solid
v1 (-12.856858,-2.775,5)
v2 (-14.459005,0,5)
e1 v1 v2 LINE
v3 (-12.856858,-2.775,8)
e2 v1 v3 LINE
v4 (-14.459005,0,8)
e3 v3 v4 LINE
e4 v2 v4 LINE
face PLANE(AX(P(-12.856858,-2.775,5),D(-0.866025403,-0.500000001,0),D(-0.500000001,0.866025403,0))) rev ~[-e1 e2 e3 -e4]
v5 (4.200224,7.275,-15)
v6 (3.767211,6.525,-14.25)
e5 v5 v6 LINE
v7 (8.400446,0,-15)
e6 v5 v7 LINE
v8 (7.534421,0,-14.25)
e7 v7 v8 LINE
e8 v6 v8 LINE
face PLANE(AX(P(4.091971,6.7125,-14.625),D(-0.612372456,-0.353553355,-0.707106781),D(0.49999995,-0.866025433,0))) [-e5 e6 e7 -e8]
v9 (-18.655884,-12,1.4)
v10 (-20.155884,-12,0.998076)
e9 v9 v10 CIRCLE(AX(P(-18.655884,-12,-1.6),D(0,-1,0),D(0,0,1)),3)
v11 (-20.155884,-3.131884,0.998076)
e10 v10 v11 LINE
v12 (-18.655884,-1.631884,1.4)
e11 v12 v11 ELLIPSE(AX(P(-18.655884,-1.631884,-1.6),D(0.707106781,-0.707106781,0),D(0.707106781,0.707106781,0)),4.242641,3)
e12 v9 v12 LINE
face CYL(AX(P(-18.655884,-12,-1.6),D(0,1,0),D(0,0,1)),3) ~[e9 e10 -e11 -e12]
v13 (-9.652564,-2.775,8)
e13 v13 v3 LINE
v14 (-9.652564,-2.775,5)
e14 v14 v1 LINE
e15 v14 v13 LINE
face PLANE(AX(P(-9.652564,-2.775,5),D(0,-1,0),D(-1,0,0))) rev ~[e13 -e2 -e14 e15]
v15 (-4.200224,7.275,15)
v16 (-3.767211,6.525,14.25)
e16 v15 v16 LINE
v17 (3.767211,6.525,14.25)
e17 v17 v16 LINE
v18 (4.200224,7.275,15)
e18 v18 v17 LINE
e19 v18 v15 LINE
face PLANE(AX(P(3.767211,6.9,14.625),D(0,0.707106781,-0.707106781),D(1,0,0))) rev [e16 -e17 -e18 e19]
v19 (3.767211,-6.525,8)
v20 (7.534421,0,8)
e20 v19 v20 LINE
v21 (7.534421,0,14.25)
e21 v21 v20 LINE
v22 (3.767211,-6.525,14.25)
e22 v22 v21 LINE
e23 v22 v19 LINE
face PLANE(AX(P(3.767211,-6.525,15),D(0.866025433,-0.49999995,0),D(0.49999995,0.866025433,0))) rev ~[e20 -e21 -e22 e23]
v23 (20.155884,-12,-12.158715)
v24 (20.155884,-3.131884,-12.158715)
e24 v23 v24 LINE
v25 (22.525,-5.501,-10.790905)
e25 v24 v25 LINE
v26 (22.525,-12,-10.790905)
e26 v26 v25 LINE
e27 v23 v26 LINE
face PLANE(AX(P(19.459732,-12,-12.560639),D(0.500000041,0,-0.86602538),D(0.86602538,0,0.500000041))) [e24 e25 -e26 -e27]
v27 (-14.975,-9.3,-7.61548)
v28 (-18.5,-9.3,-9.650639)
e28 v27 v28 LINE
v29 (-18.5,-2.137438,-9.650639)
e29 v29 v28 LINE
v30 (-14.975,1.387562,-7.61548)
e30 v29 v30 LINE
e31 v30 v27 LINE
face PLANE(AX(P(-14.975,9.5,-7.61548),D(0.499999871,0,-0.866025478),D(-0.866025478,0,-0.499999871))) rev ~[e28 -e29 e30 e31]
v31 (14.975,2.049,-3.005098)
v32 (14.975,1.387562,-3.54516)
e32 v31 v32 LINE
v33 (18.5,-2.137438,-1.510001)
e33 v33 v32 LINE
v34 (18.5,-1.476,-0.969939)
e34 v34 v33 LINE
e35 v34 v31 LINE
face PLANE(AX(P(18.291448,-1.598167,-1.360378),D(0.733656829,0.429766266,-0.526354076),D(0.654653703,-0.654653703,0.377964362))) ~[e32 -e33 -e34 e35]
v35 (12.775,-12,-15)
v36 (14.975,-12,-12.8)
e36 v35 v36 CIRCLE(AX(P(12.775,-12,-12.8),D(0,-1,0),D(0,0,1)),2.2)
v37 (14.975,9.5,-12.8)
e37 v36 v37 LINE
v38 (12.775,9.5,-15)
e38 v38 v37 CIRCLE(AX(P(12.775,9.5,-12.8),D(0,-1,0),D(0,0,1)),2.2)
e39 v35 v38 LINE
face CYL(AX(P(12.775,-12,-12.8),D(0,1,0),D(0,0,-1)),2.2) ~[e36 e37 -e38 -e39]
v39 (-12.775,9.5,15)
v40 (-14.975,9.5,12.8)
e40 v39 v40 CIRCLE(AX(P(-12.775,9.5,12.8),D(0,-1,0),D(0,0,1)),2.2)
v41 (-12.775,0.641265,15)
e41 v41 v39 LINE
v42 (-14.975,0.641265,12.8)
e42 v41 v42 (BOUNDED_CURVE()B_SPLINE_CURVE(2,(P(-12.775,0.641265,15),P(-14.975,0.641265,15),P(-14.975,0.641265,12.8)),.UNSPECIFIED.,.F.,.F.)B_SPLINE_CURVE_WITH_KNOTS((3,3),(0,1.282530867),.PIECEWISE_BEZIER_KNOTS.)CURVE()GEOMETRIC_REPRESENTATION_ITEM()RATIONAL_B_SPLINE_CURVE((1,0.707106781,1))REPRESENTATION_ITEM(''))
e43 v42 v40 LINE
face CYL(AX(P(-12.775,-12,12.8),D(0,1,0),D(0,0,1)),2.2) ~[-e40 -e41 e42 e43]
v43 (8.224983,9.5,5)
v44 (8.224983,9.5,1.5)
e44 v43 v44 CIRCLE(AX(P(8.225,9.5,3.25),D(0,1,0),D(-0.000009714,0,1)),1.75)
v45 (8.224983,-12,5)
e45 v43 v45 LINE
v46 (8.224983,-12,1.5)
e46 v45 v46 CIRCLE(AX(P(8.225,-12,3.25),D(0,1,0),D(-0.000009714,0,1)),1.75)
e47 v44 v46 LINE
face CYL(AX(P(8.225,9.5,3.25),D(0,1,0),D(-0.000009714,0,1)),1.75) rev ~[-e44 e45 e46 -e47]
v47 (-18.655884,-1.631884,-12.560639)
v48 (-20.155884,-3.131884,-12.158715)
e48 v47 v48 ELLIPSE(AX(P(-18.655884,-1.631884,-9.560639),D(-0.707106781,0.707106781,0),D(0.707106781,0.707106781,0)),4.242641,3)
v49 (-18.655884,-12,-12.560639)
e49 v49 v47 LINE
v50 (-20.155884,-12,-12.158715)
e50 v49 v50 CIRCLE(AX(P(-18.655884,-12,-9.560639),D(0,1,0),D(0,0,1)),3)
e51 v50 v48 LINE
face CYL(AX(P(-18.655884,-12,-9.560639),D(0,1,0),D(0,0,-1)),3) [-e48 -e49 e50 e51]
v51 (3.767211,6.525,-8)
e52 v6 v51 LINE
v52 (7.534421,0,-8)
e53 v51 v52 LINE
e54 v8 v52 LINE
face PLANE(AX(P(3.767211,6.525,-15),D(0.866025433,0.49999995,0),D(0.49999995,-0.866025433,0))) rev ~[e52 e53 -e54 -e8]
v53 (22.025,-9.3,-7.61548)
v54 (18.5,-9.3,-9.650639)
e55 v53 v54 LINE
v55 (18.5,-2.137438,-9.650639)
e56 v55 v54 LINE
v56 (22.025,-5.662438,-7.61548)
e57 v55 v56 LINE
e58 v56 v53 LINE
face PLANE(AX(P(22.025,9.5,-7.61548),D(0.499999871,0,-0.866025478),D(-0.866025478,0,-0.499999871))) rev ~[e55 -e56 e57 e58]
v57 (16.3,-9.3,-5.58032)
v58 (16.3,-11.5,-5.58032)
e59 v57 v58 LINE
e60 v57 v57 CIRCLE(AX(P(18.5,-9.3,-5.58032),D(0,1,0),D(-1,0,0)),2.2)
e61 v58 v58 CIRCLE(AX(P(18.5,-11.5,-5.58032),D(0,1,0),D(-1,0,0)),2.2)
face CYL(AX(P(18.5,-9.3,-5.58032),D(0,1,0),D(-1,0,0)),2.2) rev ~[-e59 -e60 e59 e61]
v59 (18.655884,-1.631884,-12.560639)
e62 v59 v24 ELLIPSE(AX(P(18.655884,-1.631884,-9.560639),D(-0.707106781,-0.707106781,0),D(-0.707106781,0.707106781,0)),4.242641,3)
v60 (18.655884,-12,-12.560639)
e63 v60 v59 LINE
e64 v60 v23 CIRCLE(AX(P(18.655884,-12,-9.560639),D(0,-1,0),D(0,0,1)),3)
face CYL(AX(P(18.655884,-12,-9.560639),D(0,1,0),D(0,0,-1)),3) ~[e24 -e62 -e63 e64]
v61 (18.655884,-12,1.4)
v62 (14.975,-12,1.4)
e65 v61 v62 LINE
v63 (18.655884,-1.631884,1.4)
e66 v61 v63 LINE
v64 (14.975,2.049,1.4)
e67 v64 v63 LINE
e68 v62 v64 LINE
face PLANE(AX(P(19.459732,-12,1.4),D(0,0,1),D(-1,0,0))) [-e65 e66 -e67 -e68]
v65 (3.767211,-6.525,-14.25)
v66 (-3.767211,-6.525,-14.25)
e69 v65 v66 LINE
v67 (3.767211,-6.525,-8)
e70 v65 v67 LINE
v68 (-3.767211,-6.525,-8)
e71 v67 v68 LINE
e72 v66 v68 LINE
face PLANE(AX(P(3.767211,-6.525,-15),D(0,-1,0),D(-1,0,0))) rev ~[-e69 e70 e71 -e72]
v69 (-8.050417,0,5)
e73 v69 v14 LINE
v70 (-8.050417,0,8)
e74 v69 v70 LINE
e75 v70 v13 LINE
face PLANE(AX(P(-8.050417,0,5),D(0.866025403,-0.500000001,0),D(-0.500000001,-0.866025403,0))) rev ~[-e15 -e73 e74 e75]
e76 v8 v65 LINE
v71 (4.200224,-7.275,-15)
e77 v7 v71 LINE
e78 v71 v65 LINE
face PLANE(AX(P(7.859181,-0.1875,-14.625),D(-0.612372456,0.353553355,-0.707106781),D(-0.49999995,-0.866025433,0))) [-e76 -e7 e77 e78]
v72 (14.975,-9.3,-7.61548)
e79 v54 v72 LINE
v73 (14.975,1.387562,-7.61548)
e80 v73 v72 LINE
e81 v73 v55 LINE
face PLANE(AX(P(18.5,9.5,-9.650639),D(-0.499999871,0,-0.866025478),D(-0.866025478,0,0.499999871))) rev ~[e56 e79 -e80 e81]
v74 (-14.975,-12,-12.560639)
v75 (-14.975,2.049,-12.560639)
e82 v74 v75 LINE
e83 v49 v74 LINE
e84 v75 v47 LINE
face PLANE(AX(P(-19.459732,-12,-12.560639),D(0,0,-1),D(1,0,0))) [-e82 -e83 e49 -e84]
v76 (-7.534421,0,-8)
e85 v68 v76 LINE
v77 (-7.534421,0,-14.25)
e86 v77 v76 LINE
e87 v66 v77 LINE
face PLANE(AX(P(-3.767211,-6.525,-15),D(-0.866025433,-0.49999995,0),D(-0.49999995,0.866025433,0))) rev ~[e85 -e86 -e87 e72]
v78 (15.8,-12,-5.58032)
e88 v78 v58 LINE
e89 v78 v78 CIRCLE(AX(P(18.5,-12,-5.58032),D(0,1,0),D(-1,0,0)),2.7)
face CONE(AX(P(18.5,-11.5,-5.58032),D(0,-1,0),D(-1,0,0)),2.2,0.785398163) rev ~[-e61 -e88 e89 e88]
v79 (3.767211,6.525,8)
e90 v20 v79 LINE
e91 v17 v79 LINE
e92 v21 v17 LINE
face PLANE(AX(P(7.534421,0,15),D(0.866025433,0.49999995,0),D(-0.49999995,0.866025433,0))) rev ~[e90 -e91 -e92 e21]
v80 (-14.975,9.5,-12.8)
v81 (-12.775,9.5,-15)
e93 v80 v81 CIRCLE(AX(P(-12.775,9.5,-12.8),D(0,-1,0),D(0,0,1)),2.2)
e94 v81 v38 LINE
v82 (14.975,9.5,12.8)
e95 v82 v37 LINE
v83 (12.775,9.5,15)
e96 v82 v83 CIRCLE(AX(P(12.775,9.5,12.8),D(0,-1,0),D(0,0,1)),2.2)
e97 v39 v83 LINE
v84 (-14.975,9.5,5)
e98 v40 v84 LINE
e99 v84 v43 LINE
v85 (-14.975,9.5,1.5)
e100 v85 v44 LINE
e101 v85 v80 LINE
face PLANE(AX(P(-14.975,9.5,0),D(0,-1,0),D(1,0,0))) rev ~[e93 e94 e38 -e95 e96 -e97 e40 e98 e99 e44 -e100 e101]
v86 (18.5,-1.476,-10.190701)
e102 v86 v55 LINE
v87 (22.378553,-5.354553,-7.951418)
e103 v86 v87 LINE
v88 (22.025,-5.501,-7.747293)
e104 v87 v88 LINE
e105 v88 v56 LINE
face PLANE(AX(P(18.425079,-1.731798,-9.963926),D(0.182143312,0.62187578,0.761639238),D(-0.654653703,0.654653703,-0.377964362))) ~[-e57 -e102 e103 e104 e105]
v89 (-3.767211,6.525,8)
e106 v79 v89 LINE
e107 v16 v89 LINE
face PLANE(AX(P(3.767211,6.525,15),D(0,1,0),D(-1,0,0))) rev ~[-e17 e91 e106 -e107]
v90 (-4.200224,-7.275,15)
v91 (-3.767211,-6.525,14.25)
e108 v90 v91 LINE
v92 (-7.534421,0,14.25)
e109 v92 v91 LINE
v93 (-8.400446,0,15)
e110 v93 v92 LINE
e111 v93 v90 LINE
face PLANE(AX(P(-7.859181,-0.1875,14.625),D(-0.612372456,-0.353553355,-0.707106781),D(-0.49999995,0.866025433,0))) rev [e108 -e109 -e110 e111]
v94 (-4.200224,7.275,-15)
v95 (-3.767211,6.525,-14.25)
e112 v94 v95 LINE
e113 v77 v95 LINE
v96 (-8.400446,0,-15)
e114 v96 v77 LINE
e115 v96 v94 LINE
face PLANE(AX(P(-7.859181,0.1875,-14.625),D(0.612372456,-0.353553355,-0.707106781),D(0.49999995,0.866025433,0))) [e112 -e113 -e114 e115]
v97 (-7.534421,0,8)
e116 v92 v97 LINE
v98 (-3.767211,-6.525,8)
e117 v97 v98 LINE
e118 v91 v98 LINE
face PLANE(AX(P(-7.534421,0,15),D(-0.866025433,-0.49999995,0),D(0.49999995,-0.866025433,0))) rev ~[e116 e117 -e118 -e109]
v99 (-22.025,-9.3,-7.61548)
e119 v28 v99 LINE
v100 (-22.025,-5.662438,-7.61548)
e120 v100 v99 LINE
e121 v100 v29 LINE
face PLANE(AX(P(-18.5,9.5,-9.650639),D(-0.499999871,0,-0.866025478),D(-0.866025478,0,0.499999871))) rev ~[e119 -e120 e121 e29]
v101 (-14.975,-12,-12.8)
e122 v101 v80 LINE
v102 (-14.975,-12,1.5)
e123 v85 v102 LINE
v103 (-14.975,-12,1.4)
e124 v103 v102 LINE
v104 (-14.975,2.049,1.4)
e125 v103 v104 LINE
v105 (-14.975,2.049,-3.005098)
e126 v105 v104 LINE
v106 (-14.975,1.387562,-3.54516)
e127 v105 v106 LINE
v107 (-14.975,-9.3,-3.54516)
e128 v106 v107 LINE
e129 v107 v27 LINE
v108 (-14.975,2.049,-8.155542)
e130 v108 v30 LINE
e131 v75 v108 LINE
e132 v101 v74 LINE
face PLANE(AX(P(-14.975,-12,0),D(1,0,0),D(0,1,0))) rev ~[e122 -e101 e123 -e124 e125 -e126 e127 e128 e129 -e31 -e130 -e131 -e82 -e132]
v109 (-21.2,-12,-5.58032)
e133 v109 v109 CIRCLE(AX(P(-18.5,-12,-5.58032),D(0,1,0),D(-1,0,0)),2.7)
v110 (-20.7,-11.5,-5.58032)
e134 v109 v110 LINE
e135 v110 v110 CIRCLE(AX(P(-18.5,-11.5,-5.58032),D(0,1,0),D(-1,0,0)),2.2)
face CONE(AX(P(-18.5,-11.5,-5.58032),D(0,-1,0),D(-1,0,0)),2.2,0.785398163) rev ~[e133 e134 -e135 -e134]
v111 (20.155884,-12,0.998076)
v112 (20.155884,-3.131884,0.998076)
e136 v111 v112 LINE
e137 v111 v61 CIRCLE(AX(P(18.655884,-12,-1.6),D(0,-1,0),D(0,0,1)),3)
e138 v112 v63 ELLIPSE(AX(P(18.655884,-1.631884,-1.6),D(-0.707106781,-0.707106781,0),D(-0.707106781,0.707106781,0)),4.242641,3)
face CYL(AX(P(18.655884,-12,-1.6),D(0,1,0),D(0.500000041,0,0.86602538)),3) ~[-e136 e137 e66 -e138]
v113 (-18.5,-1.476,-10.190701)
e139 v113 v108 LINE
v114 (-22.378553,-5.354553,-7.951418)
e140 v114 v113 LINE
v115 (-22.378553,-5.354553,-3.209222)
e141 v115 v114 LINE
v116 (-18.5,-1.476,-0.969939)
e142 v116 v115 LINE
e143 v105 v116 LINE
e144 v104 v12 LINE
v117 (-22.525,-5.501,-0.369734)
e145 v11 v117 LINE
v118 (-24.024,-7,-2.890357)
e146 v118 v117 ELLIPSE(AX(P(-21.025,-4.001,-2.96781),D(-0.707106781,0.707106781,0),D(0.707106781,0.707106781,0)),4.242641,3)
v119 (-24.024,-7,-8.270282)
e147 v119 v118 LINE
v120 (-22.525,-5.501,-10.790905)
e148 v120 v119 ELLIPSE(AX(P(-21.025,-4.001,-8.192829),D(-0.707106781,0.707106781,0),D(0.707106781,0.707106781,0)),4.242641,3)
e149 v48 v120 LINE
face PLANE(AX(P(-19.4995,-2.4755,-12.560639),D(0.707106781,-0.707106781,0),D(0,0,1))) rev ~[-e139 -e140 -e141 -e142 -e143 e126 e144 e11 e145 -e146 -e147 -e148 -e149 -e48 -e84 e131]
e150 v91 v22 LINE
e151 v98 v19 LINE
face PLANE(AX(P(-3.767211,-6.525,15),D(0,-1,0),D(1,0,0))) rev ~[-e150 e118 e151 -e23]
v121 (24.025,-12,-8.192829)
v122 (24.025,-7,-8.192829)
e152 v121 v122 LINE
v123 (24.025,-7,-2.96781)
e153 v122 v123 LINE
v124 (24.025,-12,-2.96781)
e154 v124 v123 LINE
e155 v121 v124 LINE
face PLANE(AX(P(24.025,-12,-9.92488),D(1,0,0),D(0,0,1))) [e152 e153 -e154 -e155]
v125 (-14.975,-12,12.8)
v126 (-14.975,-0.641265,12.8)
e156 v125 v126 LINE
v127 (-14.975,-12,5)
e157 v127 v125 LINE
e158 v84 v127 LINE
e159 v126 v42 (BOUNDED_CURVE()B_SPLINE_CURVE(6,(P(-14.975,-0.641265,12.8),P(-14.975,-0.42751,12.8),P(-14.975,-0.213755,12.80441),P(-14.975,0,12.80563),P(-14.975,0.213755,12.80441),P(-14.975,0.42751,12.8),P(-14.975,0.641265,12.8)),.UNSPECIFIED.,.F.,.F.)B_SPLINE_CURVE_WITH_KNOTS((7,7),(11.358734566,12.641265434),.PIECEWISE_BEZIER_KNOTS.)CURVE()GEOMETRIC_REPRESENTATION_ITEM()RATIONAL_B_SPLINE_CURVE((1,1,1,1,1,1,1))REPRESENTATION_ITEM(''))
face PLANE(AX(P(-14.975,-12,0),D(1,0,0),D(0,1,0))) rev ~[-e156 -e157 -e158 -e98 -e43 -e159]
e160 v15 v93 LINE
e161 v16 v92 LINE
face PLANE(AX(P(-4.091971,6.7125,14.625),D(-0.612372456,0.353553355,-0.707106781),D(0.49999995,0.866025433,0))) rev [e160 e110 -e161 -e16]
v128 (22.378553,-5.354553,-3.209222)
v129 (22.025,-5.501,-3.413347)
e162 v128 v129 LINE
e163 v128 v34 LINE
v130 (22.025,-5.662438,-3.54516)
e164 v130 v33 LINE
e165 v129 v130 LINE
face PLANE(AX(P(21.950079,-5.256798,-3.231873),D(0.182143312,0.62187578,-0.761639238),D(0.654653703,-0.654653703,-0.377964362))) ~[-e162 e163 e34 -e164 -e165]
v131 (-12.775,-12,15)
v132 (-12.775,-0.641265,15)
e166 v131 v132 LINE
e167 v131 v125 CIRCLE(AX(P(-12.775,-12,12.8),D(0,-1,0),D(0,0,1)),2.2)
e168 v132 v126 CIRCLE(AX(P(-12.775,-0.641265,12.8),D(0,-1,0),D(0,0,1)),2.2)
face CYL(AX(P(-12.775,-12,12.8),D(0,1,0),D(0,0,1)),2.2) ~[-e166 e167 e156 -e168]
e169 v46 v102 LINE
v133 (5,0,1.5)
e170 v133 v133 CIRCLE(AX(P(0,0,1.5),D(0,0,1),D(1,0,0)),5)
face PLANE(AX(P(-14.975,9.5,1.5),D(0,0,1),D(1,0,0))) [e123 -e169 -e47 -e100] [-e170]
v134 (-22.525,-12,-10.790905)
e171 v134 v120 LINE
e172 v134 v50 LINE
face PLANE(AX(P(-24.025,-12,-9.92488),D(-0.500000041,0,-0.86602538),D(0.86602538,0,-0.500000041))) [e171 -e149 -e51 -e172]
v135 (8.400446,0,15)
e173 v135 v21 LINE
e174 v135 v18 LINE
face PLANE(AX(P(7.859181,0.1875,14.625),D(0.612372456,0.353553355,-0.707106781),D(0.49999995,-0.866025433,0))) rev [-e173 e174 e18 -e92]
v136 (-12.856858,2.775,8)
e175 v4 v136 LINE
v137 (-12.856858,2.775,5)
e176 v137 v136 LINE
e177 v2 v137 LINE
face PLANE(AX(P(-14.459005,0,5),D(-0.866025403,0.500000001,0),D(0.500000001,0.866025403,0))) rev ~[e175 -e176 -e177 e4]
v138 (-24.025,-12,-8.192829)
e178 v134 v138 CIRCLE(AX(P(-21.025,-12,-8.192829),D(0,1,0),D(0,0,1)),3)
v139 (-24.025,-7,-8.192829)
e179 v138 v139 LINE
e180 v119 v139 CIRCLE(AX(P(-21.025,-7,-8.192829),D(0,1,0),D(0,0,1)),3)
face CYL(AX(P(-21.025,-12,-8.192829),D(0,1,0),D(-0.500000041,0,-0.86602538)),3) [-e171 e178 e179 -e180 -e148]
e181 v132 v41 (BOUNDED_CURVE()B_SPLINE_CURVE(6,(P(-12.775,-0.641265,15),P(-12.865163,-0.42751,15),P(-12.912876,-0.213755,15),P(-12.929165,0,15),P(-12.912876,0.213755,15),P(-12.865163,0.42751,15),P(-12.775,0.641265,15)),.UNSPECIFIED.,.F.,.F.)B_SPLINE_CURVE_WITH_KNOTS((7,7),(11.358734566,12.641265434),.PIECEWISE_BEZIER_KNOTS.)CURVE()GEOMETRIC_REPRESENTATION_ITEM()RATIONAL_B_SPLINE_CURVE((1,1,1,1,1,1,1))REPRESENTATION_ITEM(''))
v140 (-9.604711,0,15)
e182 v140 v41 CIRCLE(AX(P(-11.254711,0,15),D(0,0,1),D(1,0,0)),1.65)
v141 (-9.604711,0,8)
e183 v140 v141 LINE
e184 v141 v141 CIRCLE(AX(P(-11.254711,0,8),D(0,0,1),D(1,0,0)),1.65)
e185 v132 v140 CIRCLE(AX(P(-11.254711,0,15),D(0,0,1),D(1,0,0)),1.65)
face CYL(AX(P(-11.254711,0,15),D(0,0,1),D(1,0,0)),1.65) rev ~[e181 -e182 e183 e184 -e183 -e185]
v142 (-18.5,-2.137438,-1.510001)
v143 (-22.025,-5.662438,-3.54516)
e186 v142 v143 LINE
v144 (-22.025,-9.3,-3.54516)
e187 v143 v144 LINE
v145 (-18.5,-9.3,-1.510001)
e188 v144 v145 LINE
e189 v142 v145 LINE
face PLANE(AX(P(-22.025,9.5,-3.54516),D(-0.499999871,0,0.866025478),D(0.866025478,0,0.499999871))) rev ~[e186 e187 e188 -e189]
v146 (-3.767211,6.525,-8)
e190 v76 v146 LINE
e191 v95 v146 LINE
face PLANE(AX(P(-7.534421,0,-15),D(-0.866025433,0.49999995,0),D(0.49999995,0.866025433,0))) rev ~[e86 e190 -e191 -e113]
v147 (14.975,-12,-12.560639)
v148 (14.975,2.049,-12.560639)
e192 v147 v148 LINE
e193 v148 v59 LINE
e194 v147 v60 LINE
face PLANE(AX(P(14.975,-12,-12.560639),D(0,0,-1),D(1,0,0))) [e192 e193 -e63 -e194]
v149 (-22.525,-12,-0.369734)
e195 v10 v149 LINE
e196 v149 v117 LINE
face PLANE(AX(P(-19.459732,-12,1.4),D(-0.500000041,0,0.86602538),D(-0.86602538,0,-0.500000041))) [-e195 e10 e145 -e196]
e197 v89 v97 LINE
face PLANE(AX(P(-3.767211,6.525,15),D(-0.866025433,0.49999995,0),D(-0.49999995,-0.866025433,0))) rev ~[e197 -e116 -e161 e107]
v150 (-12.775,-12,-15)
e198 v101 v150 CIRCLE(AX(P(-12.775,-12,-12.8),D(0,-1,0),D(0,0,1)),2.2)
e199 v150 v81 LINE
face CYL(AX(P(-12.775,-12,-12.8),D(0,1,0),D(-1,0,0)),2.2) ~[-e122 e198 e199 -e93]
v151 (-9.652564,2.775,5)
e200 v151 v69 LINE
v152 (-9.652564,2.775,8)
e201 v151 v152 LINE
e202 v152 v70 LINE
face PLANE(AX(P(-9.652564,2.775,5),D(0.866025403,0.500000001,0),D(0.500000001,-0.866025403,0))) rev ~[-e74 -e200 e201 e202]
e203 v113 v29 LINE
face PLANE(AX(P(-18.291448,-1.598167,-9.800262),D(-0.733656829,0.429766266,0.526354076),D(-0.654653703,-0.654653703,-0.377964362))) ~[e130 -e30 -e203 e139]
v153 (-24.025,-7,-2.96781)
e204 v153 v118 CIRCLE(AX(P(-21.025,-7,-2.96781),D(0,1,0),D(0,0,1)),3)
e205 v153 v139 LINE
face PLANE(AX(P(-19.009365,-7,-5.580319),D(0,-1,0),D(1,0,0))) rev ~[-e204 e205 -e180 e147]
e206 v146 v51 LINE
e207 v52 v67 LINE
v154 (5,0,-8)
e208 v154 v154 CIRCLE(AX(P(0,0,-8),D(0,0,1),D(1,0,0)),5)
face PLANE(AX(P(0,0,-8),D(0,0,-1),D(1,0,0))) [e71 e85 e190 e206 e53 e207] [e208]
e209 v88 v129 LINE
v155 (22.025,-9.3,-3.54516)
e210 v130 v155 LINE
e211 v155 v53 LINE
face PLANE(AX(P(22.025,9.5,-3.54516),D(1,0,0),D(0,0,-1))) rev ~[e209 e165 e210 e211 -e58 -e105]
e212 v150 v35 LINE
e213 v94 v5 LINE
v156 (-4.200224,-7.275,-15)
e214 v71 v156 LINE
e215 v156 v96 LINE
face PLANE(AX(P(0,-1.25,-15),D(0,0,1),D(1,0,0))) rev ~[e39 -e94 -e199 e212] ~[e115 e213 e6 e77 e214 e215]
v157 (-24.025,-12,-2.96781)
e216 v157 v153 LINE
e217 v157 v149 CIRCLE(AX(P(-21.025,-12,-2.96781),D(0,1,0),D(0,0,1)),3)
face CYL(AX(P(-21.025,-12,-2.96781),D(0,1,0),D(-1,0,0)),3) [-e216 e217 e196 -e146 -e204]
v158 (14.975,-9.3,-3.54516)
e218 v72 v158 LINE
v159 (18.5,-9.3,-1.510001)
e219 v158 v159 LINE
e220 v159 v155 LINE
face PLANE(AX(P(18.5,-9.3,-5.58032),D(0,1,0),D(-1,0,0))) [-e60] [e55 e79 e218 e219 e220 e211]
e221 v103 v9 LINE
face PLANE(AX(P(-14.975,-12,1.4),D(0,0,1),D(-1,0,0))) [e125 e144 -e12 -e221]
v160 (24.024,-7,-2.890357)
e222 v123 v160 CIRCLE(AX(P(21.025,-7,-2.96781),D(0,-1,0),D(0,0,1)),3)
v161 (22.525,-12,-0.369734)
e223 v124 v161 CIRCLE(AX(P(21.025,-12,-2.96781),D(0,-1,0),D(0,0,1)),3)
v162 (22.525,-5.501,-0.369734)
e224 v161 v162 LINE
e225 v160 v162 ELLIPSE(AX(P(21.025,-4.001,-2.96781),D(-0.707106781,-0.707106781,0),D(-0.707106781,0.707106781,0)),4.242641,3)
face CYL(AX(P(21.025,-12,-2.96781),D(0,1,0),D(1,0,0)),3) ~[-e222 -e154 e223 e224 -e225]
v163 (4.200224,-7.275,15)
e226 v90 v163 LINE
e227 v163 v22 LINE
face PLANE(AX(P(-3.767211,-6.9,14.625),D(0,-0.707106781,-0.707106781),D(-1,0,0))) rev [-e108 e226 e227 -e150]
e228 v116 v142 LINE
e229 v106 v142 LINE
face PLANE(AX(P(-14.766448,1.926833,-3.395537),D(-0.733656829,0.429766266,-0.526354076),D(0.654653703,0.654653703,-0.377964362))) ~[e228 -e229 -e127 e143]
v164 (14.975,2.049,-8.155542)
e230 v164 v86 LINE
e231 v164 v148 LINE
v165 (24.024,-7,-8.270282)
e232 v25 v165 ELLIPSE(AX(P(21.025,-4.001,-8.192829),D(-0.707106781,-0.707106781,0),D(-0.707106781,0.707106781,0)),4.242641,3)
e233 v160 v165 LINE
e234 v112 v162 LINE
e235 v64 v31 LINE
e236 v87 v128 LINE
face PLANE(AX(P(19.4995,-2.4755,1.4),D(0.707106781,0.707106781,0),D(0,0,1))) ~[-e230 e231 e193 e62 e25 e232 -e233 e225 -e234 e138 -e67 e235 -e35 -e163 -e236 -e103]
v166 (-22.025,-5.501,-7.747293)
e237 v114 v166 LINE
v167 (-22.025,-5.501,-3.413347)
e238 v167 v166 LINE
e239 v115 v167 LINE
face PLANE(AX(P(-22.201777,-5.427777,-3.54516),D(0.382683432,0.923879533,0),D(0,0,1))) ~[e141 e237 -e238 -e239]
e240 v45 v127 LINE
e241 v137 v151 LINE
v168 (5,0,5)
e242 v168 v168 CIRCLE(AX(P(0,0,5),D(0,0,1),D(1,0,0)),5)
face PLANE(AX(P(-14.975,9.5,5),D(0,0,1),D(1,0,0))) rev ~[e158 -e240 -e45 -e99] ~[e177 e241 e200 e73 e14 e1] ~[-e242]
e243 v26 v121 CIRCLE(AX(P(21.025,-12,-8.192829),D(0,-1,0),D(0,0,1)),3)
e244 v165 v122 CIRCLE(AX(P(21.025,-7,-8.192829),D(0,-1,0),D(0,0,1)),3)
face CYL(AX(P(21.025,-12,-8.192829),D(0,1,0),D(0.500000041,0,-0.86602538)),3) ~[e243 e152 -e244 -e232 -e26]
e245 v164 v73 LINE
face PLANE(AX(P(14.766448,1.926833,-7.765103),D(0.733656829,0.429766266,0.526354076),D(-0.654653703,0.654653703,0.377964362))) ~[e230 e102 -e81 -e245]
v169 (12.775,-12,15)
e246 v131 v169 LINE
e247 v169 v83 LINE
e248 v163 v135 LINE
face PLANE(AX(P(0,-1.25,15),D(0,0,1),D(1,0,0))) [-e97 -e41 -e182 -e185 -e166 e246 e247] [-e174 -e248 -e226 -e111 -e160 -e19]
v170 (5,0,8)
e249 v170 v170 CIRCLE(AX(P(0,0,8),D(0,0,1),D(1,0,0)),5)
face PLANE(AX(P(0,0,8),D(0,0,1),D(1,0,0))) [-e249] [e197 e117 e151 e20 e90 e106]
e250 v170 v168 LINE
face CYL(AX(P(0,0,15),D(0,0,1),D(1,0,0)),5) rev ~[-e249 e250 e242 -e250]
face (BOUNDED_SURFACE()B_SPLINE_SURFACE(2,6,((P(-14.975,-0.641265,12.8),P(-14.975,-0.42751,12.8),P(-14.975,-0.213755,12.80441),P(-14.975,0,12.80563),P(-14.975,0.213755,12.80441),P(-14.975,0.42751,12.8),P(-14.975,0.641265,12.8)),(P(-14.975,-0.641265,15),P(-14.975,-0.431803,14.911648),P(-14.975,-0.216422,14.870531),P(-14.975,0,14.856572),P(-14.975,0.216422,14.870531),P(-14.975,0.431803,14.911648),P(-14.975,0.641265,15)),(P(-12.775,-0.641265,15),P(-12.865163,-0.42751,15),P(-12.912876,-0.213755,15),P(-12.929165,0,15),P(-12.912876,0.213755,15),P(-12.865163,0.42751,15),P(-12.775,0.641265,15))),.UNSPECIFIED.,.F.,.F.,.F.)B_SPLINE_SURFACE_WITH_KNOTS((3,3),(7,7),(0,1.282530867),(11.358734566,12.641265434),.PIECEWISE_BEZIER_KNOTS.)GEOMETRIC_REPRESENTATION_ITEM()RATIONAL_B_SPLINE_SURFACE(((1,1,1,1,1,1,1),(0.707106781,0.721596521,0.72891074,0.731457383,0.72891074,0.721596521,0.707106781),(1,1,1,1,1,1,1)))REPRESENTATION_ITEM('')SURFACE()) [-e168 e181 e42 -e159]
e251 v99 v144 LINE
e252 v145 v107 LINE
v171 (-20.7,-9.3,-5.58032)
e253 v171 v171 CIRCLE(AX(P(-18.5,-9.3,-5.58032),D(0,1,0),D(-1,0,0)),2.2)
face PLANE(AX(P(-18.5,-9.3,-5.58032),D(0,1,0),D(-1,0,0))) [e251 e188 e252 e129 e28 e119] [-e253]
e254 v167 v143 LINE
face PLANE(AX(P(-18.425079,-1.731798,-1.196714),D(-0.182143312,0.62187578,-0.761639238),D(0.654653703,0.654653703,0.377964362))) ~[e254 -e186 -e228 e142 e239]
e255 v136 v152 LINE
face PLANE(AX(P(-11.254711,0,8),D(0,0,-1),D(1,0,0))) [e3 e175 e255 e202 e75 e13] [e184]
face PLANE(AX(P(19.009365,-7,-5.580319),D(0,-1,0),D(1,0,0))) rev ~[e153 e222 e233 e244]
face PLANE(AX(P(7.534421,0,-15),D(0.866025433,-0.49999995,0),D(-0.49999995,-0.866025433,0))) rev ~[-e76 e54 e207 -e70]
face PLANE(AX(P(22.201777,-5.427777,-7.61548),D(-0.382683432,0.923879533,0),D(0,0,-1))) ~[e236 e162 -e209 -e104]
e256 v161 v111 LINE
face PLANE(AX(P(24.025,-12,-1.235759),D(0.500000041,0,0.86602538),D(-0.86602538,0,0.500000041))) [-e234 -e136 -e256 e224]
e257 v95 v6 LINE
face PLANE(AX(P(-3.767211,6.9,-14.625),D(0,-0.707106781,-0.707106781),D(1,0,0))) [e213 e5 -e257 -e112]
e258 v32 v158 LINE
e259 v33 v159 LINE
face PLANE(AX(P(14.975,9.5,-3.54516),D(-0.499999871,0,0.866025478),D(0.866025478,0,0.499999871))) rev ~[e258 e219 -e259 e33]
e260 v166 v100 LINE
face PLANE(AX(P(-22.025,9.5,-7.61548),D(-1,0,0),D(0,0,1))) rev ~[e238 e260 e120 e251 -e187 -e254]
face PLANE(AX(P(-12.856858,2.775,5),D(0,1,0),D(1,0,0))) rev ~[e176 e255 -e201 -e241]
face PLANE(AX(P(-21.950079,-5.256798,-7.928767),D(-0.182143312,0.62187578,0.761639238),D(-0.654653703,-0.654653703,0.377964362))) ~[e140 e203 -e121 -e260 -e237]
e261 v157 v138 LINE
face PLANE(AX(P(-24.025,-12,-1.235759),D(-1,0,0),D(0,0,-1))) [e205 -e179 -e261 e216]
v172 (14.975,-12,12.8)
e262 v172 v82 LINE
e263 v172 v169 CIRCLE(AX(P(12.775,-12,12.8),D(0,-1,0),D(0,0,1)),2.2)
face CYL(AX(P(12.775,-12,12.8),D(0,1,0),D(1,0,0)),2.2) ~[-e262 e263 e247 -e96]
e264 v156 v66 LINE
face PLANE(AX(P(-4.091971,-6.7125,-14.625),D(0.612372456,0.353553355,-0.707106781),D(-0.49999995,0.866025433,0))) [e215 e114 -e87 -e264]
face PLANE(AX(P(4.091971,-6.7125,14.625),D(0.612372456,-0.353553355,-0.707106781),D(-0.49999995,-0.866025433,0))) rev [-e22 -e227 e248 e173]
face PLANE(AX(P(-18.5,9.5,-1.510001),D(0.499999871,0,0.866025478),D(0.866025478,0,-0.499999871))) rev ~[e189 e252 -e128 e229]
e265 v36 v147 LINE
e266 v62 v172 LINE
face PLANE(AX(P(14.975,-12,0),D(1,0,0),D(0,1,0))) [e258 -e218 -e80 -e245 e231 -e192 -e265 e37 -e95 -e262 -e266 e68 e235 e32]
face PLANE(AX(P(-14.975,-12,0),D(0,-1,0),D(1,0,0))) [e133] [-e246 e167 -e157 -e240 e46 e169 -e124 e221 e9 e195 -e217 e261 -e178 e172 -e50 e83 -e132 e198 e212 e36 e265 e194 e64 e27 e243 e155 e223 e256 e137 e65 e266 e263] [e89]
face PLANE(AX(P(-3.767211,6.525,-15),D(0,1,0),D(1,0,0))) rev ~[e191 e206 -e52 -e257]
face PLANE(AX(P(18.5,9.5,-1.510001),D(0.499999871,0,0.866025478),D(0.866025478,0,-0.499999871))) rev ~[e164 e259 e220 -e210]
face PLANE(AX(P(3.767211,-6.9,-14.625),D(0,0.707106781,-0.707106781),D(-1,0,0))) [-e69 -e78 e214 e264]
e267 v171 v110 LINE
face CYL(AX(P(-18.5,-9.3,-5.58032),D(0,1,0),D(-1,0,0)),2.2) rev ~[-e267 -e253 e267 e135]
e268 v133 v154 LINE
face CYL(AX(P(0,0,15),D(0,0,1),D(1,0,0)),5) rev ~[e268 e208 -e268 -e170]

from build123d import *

# Parameters (mm, degrees)
SKETCH_W        = 29.95
SKETCH_H        = 21.5
PAD_DEPTH       = 15
POCKET_DEPTH    = 21.501
SKETCH002_R     = 5
POCKET001_DEPTH = 30.001
POCKET002_DEPTH = 7
POCKET003_DEPTH = 7
PAD001_DEPTH    = 5
CHAMFER_SIZE    = 9.049
POCKET004_DEPTH = 18.8
SKETCH007_R     = 2.2
POCKET005_DEPTH = 2.701
SKETCH008_R     = 1.65
POCKET006_DEPTH = 10
POCKET007_DEPTH = 3
FILLET_R        = 2.2
FILLET001_R     = 3
CHAMFER001_SIZE = 0.75
CHAMFER002_SIZE = 0.5
CHAMFER003_SIZE = 0.5


with BuildPart() as part:
    # Sketch → Pad (new body, symmetric)
    with BuildSketch(Plane.XY):
        with Locations((0, -1.25)):
            Rectangle(SKETCH_W, SKETCH_H)
    extrude(amount=PAD_DEPTH, both=True)

    # Sketch001 (on Face1 of Pad) → Pocket (cut, through all)
    with BuildSketch(Plane(origin=(0, 9.5, 0), x_dir=(-1, 0, 0), z_dir=(0, 1, 0))):
        with BuildLine():
            Line((14.975, 1.5), (14.975, 5))
            Line((14.975, 5), (-8.224983, 5))
            ThreePointArc((-8.224983, 5), (-9.975, 3.25), (-8.224983, 1.5))
            Line((14.975, 1.5), (-8.224983, 1.5))
        make_face()
    extrude(amount=-POCKET_DEPTH, mode=Mode.SUBTRACT)

    # Sketch002 (on Face4 of Pocket) → Pocket001 (cut, through all)
    with BuildSketch(Plane.XY.offset(15)):
        Circle(SKETCH002_R)
    extrude(amount=-POCKET001_DEPTH, mode=Mode.SUBTRACT)

    # Sketch003 (on Face4 of Pocket001) → Pocket002 (cut)
    with BuildSketch(Plane.XY.offset(15)):
        Polygon((7.534421, 0), (3.767211, 6.525), (-3.767211, 6.525), (-7.534421, 0), (-3.767211, -6.525), (3.767211, -6.525), align=None)
    extrude(amount=-POCKET002_DEPTH, mode=Mode.SUBTRACT)

    # Sketch004 (on Face2 of Pocket002) → Pocket003 (cut)
    with BuildSketch(Plane(origin=(0, 0, -15), x_dir=(1, 0, 0), z_dir=(0, 0, -1))):
        Polygon((7.534421, 0), (3.767211, 6.525), (-3.767211, 6.525), (-7.534421, 0), (-3.767211, -6.525), (3.767211, -6.525), align=None)
    extrude(amount=-POCKET003_DEPTH, mode=Mode.SUBTRACT)

    # Sketch005 (on Face10 of Pocket003) → Pad001 (new body)
    with BuildSketch(Plane.XZ.offset(12)):
        Polygon((-14.975, 1.4), (-19.459732, 1.4), (-24.025, -1.235759), (-24.025, -9.92488), (-19.459732, -12.560639), (-14.975, -12.560639), align=None)
        Polygon((14.975, 1.4), (14.975, -12.560639), (19.459732, -12.560639), (24.025, -9.92488), (24.025, -1.235759), (19.459732, 1.4), align=None)
    extrude(amount=-PAD001_DEPTH)

    # Chamfer
    chamfer_edges = [part.edges().sort_by_distance(p)[0] for p in [
        (-14.975, -7, -5.580319),
        (14.975, -7, -5.580319),
    ]]
    chamfer(chamfer_edges, length=CHAMFER_SIZE)

    # Sketch006 (on Face7 of Chamfer) → Pocket004 (cut)
    with BuildSketch(Plane(origin=(0, 9.5, 0), x_dir=(-1, 0, 0), z_dir=(0, 1, 0))):
        Polygon((22.025, -7.61548), (22.025, -3.54516), (18.5, -1.510001), (14.975, -3.54516), (14.975, -7.61548), (18.5, -9.650639), align=None)
        Polygon((-18.5, -9.650639), (-14.975, -7.61548), (-14.975, -3.54516), (-18.5, -1.510001), (-22.025, -3.54516), (-22.025, -7.61548), align=None)
    extrude(amount=-POCKET004_DEPTH, mode=Mode.SUBTRACT)

    # Sketch007 (on Face36 of Pocket004) → Pocket005 (cut, through all)
    with BuildSketch(Plane(origin=(0, -9.3, 0), x_dir=(-1, 0, 0), z_dir=(0, 1, 0))):
        with Locations((-18.5, -5.58032)):
            Circle(SKETCH007_R)
        with Locations((18.5, -5.58032)):
            Circle(SKETCH007_R)
    extrude(amount=-POCKET005_DEPTH, mode=Mode.SUBTRACT)

    # Sketch008 (on Face23 of Pocket005) → Pocket006 (cut)
    with BuildSketch(Plane.XY.offset(15)):
        with Locations((-11.254711, 0)):
            Circle(SKETCH008_R)
    extrude(amount=-POCKET006_DEPTH, mode=Mode.SUBTRACT)

    # Sketch009 (on Face26 of Pocket006) → Pocket007 (cut)
    with BuildSketch(Plane(origin=(0, 0, 5), x_dir=(1, 0, 0), z_dir=(0, 0, -1))):
        Polygon((-9.652564, -2.775), (-8.050417, 0), (-9.652564, 2.775), (-12.856858, 2.775), (-14.459005, 0), (-12.856858, -2.775), align=None)
    extrude(amount=-POCKET007_DEPTH, mode=Mode.SUBTRACT)

    # Fillet
    fillet_edges = [part.edges().sort_by_distance(p)[0] for p in [
        (-14.975, -1.25, -15),
        (14.975, -1.25, -15),
        (-14.975, -1.25, 15),
        (14.975, -1.25, 15),
    ]]
    fillet(fillet_edges, radius=FILLET_R)

    # Fillet001
    fillet001_edges = [part.edges().sort_by_distance(p)[0] for p in [
        (24.025, -9.5, -9.92488),
        (19.459732, -7.217866, -12.560639),
        (24.025, -9.5, -1.235759),
        (-19.459732, -7.217866, -12.560639),
        (-24.025, -9.5, -9.92488),
        (-24.025, -9.5, -1.235759),
        (-19.459732, -7.217866, 1.4),
        (19.459732, -7.217866, 1.4),
    ]]
    fillet(fillet001_edges, radius=FILLET001_R)

    # Chamfer001
    chamfer001_edges = [part.edges().sort_by_distance(p)[0] for p in [
        (-5.650816, -3.2625, -15),
        (0, -6.525, -15),
        (5.650816, -3.2625, -15),
        (5.650816, 3.2625, -15),
        (0, 6.525, -15),
        (-5.650816, 3.2625, -15),
        (-5.650816, 3.2625, 15),
        (0, 6.525, 15),
        (5.650816, 3.2625, 15),
        (5.650816, -3.2625, 15),
        (0, -6.525, 15),
        (-5.650816, -3.2625, 15),
    ]]
    chamfer(chamfer001_edges, length=CHAMFER001_SIZE)

    # Chamfer002
    chamfer002_edges = [part.edges().sort_by_distance(p)[0] for p in [
        (-16.7375, 0.2865, -8.63306),
        (-16.7375, 0.2865, -2.52758),
        (-20.2625, -3.2385, -2.52758),
        (-20.2625, -3.2385, -8.63306),
        (-22.025, -5.001, -5.58032),
        (16.7375, 0.2865, -2.52758),
        (16.7375, 0.2865, -8.63306),
        (20.2625, -3.2385, -8.63306),
        (22.025, -5.001, -5.58032),
        (20.2625, -3.2385, -2.52758),
    ]]
    chamfer(chamfer002_edges, length=CHAMFER002_SIZE)

    # Chamfer003
    chamfer003_edges = [part.edges().sort_by_distance(p)[0] for p in [
        (-16.3, -12, -5.58032),
        (20.7, -12, -5.58032),
    ]]
    chamfer(chamfer003_edges, length=CHAMFER003_SIZE)


solid = part.part
